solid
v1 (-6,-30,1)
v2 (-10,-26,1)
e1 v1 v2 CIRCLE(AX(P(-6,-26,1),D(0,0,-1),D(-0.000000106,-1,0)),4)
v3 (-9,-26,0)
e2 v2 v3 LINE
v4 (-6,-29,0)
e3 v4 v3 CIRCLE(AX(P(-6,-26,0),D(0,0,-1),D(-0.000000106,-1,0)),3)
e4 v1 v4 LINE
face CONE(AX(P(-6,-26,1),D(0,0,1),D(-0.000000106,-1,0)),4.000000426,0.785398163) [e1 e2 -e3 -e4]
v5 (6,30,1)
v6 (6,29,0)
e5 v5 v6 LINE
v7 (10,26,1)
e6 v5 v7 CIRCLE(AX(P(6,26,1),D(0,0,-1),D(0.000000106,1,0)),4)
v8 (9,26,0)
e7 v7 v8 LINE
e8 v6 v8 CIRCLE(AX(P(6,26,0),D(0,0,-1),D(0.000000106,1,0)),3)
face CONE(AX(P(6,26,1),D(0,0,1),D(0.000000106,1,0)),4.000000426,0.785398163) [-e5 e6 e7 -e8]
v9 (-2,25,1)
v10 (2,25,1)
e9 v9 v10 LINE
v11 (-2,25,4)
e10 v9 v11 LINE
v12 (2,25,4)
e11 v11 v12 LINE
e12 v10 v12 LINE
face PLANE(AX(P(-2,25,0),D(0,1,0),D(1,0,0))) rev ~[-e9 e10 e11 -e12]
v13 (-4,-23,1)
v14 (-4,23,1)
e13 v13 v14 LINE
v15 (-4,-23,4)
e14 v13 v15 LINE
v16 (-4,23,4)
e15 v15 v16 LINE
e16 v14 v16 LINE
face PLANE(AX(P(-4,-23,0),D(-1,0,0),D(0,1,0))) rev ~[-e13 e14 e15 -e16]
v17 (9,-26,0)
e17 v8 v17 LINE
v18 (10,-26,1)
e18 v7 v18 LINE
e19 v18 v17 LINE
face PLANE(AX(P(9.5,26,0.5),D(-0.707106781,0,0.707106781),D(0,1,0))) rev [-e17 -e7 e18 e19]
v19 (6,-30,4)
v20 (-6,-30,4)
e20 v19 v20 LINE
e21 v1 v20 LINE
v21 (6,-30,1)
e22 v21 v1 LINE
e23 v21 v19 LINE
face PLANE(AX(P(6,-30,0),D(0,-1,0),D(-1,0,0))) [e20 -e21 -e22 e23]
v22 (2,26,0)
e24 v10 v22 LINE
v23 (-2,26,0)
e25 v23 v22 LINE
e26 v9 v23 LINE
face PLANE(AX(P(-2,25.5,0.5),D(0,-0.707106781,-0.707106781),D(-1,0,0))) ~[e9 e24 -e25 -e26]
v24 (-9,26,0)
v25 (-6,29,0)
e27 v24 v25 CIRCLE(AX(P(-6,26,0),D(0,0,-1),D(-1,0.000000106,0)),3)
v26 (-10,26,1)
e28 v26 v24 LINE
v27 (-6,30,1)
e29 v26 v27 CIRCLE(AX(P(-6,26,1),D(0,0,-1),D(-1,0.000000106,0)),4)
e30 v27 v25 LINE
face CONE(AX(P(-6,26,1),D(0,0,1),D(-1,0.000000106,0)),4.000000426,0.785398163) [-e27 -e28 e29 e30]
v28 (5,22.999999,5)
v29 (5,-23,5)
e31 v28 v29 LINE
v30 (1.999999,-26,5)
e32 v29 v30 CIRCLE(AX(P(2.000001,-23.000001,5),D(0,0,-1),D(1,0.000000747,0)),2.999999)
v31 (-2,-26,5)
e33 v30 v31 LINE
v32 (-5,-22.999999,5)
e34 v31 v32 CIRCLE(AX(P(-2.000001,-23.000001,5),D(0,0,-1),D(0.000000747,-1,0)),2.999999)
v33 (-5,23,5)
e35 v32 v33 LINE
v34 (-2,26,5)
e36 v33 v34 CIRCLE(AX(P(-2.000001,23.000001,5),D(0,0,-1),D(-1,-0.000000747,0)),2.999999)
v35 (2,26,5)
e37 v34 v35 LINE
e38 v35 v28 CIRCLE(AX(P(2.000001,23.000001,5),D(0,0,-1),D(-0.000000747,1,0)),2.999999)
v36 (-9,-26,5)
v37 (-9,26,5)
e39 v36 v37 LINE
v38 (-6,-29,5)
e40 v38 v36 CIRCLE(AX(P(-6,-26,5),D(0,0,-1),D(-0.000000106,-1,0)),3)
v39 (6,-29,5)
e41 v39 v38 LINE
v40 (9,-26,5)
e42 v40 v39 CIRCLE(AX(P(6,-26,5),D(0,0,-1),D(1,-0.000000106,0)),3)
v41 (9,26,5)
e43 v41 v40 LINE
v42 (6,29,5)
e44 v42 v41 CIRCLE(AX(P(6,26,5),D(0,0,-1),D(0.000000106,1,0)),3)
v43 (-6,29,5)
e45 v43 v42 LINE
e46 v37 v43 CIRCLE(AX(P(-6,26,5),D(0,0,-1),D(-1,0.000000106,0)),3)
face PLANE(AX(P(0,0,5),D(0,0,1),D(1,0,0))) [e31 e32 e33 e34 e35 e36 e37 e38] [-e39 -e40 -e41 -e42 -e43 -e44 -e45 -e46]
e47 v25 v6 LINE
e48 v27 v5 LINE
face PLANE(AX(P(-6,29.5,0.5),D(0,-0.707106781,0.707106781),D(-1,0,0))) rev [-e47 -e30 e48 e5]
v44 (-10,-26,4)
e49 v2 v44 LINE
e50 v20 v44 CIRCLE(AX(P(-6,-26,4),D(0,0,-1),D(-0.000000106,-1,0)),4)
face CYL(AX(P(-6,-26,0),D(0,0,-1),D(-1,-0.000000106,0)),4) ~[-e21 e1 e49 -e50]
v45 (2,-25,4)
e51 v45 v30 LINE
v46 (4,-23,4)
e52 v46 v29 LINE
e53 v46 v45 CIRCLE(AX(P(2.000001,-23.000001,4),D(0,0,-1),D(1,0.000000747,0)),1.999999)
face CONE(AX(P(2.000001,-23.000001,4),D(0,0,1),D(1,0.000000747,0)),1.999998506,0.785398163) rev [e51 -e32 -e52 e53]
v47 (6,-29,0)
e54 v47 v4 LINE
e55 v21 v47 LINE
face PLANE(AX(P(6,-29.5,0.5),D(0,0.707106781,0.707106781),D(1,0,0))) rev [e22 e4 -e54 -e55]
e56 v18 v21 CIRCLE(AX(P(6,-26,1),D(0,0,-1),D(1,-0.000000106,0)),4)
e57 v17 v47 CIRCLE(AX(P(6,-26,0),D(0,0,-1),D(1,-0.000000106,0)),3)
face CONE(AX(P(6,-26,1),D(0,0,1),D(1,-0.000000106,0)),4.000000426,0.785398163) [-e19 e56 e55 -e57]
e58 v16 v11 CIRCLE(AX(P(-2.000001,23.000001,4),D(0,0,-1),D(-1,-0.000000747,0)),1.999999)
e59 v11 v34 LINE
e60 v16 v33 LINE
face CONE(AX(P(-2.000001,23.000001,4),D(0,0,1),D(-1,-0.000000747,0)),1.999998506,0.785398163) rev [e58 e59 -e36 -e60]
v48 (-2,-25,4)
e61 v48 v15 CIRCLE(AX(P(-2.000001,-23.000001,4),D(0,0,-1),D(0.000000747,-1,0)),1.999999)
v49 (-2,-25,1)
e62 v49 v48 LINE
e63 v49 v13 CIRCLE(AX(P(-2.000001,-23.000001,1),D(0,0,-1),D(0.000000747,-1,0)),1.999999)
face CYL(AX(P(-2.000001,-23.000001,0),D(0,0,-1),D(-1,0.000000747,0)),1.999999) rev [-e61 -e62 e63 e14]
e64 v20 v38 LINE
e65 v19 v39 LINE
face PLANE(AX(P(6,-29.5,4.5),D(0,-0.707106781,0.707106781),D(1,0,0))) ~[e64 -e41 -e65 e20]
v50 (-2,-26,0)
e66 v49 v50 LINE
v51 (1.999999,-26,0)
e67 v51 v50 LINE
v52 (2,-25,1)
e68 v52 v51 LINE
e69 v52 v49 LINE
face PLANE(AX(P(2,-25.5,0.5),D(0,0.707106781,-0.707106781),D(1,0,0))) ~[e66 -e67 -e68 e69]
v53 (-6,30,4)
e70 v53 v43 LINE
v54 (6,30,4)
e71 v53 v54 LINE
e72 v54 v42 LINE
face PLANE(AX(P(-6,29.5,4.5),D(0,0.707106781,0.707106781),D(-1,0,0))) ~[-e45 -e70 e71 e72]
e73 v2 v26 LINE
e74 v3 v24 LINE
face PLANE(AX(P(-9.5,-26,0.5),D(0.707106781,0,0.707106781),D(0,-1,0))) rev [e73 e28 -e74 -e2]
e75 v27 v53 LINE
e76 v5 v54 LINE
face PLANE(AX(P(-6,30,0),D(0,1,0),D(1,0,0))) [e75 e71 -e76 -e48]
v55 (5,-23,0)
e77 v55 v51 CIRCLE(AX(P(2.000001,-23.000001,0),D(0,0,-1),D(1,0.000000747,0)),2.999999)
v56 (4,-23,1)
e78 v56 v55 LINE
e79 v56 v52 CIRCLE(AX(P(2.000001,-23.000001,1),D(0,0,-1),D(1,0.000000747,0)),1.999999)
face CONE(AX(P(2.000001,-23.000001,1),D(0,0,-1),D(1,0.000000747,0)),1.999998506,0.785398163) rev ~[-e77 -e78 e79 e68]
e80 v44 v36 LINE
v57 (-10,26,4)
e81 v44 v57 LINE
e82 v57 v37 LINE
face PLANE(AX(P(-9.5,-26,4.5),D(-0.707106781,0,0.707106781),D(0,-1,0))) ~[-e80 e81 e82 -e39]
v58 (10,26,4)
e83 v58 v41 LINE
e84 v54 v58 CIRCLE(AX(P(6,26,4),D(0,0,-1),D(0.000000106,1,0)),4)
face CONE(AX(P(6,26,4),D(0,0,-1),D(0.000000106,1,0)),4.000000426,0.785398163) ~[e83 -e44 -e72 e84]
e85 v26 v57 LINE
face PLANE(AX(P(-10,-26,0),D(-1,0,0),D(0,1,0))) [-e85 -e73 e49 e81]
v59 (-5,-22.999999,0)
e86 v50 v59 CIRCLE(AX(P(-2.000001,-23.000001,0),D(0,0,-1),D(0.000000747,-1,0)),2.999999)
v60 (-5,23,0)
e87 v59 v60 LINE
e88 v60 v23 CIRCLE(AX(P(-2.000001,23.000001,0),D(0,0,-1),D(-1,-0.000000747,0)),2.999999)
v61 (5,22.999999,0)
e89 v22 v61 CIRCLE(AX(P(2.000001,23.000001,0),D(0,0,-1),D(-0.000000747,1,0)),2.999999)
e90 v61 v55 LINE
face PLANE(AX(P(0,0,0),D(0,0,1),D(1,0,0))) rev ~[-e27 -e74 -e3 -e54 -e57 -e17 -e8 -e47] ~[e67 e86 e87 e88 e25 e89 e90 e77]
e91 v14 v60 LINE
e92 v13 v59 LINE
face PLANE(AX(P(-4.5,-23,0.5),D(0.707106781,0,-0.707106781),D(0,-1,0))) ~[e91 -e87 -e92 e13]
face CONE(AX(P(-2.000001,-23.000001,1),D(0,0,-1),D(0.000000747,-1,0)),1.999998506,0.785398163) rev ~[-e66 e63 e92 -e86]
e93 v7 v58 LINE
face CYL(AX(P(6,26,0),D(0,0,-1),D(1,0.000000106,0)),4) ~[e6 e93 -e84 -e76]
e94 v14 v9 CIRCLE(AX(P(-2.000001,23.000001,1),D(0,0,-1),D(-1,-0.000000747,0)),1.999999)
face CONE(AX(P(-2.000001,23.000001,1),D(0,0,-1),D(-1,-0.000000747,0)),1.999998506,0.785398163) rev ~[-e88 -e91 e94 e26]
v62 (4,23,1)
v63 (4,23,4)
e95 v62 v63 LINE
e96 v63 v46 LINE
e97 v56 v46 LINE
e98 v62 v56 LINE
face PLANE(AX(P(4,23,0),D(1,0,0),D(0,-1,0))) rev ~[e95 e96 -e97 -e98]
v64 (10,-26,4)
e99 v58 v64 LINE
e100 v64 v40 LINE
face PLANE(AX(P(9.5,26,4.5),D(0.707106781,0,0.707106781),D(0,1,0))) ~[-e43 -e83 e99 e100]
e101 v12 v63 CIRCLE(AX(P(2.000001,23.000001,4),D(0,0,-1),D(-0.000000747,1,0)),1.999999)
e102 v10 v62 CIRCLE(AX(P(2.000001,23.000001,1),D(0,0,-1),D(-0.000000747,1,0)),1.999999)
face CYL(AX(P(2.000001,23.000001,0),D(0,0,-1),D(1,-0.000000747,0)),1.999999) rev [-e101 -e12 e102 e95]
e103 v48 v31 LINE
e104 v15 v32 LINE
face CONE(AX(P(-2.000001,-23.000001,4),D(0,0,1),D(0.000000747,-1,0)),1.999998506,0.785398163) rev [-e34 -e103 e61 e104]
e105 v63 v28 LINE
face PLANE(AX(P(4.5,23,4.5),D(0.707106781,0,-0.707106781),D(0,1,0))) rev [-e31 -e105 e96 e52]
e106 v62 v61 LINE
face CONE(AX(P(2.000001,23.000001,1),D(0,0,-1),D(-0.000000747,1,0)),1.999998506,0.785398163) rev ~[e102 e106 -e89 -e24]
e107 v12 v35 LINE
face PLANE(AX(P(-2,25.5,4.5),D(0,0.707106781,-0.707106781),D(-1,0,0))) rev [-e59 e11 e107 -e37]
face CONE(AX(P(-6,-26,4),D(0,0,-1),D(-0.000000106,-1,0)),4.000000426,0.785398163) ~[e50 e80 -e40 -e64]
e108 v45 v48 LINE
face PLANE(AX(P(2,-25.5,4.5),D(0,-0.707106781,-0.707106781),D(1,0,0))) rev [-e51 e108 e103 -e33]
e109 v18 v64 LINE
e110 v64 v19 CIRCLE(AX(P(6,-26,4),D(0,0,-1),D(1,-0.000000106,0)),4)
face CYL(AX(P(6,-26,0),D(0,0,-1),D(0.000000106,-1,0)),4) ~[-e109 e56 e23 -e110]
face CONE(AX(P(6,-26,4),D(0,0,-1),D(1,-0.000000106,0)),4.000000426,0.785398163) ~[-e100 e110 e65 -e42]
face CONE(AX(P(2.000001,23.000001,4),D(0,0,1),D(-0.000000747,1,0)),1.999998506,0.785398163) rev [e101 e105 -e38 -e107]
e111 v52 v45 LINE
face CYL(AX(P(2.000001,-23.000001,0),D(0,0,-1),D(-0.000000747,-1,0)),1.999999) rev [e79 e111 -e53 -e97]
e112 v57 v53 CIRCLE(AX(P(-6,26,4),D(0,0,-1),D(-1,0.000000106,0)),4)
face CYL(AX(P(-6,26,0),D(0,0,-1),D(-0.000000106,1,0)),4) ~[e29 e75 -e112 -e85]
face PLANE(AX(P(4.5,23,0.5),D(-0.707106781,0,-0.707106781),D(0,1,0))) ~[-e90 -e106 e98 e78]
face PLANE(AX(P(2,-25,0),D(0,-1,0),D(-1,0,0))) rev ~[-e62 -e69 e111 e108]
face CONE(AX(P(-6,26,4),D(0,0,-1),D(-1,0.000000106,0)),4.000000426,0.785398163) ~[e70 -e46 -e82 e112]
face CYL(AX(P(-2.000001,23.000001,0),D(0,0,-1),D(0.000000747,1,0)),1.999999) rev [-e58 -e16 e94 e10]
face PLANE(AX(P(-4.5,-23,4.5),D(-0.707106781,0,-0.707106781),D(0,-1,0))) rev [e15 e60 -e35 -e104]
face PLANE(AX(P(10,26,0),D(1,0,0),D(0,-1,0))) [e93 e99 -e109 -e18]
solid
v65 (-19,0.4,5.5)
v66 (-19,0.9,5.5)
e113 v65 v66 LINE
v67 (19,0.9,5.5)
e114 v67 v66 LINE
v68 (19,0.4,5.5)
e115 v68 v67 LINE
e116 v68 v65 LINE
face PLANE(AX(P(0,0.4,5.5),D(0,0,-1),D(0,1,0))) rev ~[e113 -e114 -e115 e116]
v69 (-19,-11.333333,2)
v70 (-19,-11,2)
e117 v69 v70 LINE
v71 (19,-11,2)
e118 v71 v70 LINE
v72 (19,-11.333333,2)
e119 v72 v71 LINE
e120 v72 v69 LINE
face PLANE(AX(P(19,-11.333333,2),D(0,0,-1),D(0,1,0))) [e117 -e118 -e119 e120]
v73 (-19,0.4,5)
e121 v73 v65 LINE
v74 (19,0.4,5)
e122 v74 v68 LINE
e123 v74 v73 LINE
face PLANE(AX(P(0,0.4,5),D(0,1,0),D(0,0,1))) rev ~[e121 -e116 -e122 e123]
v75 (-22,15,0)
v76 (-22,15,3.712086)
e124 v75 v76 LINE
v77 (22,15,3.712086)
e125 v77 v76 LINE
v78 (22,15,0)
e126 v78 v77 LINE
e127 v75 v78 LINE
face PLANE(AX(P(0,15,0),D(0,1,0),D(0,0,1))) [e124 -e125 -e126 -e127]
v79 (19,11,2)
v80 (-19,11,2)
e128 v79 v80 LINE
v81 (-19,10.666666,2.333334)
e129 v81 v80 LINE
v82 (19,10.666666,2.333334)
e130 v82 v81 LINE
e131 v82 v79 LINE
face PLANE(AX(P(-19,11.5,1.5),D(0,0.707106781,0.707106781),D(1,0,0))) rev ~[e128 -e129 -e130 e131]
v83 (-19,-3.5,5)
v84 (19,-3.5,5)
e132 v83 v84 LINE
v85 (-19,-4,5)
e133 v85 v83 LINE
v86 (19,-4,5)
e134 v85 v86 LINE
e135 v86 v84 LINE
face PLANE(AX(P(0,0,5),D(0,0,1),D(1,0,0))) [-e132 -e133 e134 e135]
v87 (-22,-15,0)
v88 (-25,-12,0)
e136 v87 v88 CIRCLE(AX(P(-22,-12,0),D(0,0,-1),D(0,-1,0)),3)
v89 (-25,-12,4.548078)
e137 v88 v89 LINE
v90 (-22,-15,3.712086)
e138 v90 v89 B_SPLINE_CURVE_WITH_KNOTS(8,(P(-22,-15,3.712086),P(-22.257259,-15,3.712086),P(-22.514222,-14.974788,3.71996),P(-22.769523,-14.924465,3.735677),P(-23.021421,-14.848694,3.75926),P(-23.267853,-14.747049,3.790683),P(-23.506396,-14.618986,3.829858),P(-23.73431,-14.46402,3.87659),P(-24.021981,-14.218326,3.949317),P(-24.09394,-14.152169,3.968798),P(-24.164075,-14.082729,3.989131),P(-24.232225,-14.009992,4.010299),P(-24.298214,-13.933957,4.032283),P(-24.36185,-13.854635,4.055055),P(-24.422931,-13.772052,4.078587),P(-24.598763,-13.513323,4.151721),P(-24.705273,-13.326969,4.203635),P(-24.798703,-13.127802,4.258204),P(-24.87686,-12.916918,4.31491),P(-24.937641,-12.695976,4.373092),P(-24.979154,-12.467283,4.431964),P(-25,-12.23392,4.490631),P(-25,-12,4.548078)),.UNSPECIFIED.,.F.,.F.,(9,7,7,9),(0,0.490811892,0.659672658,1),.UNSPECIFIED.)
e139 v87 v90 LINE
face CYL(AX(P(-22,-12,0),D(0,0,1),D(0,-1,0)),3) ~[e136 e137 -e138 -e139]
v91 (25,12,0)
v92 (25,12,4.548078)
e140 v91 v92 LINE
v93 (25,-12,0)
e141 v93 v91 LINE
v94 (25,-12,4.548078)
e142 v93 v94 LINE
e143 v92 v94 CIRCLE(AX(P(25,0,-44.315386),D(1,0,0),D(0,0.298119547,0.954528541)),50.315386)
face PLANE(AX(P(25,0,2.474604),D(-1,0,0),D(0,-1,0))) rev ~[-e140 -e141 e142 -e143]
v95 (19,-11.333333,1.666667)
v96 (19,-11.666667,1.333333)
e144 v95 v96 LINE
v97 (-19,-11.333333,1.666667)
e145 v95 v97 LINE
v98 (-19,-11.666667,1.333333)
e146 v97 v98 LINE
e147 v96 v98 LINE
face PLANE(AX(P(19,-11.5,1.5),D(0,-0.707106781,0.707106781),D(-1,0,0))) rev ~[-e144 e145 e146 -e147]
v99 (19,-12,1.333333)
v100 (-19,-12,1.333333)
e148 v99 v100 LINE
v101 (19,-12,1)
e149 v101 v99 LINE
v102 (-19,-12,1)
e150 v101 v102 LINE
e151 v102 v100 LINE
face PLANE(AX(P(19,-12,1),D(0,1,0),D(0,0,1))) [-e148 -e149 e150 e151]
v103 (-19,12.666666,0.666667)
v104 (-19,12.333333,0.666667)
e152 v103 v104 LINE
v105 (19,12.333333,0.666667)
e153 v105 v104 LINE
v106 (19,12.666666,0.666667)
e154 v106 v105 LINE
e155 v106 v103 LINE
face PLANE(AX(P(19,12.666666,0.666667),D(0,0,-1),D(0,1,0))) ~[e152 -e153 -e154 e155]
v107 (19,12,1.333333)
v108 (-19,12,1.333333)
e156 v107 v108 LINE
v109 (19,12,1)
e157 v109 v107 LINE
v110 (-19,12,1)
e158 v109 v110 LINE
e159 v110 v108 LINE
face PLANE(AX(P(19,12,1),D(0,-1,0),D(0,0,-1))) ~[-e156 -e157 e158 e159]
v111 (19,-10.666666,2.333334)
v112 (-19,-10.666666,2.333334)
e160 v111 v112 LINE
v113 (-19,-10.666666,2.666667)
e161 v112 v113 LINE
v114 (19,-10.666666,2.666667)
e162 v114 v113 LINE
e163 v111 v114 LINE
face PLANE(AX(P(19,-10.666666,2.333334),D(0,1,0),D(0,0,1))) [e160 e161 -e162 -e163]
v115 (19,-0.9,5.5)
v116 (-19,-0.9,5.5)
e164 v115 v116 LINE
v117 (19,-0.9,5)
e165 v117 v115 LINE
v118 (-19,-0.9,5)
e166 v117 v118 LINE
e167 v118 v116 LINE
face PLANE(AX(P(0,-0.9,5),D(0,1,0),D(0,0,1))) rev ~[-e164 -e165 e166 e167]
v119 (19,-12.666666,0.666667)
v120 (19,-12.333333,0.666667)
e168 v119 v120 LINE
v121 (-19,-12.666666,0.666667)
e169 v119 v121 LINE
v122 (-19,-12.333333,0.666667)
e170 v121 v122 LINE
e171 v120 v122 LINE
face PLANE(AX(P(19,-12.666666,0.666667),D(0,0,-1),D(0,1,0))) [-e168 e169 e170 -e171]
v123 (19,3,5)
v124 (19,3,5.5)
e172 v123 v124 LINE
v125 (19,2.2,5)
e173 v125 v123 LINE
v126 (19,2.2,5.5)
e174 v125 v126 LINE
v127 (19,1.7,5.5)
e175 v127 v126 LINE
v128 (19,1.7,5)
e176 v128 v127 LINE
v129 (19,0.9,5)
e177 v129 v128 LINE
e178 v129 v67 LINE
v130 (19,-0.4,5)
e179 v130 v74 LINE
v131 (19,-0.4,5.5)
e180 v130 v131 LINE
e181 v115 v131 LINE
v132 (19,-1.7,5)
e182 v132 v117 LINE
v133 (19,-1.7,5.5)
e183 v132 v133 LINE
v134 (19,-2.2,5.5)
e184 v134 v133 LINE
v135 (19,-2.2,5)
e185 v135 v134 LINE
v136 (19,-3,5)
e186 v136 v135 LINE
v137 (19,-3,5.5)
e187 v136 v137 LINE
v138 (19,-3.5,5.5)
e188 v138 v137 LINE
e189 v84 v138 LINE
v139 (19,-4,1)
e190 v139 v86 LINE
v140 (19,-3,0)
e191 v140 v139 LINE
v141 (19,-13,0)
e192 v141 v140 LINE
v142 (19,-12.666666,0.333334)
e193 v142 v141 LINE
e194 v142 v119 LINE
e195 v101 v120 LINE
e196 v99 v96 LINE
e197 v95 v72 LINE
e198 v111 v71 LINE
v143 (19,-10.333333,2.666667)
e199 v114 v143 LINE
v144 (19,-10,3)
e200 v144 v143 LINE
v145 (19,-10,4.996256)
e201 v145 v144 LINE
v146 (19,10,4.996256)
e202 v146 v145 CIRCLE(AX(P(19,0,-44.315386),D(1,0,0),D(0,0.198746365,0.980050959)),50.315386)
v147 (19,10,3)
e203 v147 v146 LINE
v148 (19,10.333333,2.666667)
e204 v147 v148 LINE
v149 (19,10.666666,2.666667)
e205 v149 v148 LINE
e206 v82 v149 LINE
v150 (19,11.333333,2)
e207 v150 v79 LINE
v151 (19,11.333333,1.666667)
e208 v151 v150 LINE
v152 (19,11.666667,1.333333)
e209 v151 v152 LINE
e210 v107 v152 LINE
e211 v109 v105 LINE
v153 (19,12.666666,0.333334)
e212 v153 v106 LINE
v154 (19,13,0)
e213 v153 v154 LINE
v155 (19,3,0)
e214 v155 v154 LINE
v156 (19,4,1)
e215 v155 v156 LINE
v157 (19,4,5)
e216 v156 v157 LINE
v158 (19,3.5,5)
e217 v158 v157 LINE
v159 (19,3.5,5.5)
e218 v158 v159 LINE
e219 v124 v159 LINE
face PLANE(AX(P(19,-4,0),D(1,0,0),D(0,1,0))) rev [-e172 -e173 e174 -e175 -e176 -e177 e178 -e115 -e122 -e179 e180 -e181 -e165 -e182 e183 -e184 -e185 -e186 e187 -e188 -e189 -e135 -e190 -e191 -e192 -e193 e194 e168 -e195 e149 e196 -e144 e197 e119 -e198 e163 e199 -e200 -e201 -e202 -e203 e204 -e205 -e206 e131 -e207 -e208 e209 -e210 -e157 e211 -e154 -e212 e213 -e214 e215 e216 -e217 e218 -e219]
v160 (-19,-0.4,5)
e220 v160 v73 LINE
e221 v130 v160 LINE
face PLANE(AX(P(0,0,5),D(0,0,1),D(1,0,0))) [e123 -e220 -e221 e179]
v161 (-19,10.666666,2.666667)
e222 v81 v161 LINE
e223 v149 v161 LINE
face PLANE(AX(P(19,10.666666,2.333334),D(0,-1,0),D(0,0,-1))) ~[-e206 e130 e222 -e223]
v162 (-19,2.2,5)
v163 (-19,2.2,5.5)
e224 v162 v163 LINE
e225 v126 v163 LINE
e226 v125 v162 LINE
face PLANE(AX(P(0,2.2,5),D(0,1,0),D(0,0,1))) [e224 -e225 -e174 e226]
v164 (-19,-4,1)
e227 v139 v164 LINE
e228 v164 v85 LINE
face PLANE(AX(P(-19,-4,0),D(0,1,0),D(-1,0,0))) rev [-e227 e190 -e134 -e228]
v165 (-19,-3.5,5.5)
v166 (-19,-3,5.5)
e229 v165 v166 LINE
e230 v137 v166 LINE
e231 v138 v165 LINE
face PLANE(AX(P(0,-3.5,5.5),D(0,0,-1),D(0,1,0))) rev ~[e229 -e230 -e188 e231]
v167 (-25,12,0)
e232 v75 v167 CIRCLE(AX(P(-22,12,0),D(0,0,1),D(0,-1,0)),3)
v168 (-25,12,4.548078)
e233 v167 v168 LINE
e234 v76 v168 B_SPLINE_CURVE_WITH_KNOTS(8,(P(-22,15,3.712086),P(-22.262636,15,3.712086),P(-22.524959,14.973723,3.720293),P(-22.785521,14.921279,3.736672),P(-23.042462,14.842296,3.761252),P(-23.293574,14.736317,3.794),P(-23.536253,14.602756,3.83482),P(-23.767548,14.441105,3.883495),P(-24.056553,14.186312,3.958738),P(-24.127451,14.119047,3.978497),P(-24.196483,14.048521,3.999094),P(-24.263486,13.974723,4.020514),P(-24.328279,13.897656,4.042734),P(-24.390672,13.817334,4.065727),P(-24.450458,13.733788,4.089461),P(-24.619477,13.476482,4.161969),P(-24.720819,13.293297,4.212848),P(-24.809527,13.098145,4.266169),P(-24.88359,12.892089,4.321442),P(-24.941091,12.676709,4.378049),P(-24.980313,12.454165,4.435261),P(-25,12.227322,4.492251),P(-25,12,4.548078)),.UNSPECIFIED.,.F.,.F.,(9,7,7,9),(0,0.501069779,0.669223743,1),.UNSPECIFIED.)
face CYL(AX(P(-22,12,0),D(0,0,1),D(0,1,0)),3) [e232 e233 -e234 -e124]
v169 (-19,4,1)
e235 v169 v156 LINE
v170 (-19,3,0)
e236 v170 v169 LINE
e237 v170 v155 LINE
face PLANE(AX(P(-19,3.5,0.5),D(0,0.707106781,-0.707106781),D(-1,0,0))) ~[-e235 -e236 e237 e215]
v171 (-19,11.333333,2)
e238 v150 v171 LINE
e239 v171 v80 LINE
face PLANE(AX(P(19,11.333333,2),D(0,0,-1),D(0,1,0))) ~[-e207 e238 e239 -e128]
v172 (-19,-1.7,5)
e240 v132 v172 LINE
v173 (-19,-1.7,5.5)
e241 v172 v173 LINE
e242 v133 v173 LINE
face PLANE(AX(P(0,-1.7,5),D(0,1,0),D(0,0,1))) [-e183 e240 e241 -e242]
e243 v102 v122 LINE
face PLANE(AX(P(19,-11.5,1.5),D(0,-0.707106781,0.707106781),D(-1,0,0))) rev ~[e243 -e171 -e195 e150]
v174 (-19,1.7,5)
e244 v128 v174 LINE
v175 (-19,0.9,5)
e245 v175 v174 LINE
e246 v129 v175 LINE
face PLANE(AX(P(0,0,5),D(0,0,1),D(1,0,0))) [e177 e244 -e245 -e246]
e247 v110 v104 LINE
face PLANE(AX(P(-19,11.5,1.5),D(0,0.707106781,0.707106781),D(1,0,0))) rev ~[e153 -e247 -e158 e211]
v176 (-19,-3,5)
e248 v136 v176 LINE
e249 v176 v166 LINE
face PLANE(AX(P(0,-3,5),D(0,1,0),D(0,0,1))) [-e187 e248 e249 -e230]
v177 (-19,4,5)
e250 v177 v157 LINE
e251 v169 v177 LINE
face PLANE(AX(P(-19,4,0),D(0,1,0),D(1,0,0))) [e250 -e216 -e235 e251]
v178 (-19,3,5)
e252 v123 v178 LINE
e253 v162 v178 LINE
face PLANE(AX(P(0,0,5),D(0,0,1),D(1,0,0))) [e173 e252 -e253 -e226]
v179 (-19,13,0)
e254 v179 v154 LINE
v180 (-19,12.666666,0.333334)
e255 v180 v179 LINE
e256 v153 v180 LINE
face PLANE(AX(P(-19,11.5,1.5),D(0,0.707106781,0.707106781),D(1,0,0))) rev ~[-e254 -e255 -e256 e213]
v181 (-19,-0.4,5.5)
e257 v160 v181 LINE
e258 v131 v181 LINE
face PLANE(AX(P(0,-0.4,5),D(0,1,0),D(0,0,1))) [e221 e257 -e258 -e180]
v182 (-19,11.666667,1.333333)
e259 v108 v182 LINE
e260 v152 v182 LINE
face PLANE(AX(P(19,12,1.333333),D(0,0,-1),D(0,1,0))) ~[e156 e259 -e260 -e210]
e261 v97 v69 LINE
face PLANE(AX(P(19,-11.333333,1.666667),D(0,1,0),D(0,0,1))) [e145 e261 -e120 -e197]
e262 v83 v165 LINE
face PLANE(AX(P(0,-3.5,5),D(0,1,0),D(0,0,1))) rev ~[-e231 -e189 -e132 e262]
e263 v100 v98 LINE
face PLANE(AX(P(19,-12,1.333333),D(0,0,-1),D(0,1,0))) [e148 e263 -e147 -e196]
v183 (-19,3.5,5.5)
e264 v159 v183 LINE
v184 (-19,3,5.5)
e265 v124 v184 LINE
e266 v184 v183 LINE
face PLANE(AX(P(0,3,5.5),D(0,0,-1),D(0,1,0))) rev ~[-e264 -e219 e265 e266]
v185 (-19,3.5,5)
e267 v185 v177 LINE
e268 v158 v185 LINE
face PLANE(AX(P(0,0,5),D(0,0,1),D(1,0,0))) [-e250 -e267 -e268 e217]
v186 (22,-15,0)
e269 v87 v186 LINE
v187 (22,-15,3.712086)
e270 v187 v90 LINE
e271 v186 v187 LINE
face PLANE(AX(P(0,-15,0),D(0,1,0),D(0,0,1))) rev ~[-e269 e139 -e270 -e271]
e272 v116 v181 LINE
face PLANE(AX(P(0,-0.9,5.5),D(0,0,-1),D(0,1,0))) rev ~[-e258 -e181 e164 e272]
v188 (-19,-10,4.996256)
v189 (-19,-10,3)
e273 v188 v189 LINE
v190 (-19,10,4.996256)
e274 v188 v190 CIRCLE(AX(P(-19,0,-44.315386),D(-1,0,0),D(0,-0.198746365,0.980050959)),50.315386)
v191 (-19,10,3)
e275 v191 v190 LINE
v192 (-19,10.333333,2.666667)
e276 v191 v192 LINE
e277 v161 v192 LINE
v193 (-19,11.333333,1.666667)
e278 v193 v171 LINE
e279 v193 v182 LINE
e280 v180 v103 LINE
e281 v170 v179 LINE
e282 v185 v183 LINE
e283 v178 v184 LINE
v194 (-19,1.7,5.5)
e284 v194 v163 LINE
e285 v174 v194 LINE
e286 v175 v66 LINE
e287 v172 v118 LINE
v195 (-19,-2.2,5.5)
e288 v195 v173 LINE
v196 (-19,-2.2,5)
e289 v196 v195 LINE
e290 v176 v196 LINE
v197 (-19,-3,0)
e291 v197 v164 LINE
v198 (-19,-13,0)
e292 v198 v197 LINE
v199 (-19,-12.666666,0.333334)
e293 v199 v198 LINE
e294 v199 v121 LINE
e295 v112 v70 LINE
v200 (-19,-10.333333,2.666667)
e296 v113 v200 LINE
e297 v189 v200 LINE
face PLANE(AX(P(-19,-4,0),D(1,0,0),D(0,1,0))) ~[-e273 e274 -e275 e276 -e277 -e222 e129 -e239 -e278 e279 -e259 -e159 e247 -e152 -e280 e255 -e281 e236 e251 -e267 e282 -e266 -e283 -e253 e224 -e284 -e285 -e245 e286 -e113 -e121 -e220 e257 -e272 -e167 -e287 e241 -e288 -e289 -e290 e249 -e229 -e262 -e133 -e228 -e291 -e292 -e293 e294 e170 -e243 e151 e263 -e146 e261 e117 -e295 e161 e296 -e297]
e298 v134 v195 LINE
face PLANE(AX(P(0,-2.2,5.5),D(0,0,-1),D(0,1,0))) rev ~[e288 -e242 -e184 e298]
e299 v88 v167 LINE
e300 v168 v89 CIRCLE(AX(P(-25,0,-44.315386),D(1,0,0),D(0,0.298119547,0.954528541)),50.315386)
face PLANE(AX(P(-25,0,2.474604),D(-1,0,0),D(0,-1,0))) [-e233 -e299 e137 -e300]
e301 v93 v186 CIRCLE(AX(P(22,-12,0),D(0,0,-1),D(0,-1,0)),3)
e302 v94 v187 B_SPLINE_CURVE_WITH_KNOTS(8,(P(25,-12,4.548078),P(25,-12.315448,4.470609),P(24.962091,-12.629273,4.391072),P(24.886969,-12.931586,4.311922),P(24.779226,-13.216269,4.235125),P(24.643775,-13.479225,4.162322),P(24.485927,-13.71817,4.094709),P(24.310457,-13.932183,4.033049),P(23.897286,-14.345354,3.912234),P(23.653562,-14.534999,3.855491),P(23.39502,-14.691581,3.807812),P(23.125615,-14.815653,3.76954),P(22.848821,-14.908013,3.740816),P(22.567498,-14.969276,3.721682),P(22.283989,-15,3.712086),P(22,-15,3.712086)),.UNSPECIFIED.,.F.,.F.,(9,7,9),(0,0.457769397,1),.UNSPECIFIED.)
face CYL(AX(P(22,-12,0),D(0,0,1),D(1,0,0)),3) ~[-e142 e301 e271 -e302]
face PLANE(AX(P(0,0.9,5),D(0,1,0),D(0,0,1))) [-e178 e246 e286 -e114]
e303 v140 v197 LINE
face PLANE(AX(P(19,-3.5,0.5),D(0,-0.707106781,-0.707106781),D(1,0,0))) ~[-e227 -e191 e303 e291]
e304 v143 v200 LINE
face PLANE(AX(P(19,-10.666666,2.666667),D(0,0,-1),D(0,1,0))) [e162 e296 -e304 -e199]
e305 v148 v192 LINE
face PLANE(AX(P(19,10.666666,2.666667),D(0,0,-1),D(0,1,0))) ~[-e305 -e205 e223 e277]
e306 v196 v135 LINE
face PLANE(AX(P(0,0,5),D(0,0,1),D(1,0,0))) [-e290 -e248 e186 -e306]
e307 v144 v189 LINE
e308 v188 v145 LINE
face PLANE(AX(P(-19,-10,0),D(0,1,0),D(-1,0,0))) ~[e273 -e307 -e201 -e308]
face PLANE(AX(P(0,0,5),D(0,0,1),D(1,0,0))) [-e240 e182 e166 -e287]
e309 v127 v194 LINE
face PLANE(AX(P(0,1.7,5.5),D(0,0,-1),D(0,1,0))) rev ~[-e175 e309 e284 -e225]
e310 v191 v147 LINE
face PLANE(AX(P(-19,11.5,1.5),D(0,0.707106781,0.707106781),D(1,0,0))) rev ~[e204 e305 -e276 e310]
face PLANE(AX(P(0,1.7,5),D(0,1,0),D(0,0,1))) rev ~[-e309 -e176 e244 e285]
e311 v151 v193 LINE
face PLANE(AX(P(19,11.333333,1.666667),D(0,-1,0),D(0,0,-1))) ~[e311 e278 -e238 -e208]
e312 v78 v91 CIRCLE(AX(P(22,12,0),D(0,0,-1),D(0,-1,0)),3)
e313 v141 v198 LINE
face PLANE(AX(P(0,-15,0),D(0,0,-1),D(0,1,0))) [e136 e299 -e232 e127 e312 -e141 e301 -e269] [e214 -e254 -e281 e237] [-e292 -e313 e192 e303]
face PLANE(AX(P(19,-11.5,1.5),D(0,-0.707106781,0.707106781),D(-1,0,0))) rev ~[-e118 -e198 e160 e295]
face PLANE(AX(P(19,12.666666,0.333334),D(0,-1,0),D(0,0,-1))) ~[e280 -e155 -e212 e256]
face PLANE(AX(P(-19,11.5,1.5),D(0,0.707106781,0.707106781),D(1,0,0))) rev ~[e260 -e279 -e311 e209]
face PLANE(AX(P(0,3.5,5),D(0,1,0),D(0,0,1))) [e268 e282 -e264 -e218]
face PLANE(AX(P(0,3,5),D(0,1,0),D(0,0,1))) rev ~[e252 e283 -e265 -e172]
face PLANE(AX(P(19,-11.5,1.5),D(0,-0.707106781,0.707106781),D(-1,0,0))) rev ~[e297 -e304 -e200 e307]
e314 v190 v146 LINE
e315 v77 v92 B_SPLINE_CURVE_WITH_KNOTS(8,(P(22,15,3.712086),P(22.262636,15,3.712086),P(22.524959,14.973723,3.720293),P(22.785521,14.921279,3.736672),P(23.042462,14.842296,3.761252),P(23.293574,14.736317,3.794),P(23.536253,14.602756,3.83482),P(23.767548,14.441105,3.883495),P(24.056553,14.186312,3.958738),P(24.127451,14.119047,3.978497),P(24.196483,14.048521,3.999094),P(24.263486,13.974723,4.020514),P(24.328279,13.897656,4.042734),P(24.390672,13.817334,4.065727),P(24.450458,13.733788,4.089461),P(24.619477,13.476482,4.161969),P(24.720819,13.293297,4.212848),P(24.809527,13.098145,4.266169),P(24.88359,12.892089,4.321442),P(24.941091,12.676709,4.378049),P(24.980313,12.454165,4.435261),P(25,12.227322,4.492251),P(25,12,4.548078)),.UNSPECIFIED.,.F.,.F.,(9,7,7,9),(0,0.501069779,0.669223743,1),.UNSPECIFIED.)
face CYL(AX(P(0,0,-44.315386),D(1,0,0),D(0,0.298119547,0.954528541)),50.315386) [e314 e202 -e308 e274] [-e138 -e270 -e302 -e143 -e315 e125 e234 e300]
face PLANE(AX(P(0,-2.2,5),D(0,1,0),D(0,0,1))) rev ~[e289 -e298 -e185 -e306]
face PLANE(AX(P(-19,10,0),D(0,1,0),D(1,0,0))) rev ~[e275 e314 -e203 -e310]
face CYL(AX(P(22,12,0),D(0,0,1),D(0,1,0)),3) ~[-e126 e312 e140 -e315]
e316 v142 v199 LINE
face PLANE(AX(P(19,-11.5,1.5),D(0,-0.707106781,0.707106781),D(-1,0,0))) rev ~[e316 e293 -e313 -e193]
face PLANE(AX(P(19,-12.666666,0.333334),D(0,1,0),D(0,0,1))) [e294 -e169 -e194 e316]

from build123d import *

# Parameters (mm, degrees)
PAD_DEPTH           = 25
SKETCH001_W         = 38
SKETCH001_H         = 6
POCKET_DEPTH        = 117.235807
POCKET_DEPTH_BACK   = 123.235807
SKETCH002_W         = 38
SKETCH002_H         = 8
POCKET001_DEPTH     = 1
SKETCH003_W         = 0.5
SKETCH003_H         = 0.5
PAD001_DEPTH        = 19
PAD002_DEPTH        = 19
LINEARPATTERN_COUNT = 6
LINEARPATTERN_PITCH = 1.3
FILLET_R            = 3
CHAMFER_SIZE        = 3
POCKET002_DEPTH     = 38
CHAMFER001_SIZE     = 1
PAD003_DEPTH        = 5
CHAMFER002_SIZE     = 1


with BuildPart() as body:
    # Sketch → Pad (new body, symmetric)
    with BuildSketch(Plane.YZ):
        with BuildLine():
            Line((-15, 0), (-15, 3.712086))
            ThreePointArc((15, 3.712086), (0, 6), (-15, 3.712086))
            Line((15, 0), (15, 3.712086))
            Line((-15, 0), (15, 0))
        make_face()
    extrude(amount=PAD_DEPTH, both=True)

    # Sketch001 → Pocket (cut, two sides)
    with BuildSketch(Plane.XY) as pocket_sk:
        with Locations((0, 7)):
            Rectangle(SKETCH001_W, SKETCH001_H)
    pocket = extrude(amount=-POCKET_DEPTH, mode=Mode.SUBTRACT) + extrude(pocket_sk.sketch, amount=POCKET_DEPTH_BACK, mode=Mode.SUBTRACT)

    # Mirrored: Pocket across Sketch001 H_Axis
    add(pocket.mirror(Plane.ZX), mode=Mode.SUBTRACT)

    # Sketch002 → Pocket001 (cut)
    with BuildSketch(Plane.XY.offset(6)):
        Rectangle(SKETCH002_W, SKETCH002_H)
    extrude(amount=-POCKET001_DEPTH, mode=Mode.SUBTRACT)

    # Sketch003 → Pad001 (join)
    with BuildSketch(Plane.YZ):
        with Locations((-3.25, 5.25)):
            Rectangle(SKETCH003_W, SKETCH003_H)
    pad001 = extrude(amount=PAD001_DEPTH)

    # Sketch003 → Pad002 (join)
    with BuildSketch(Plane.YZ):
        with Locations((-3.25, 5.25)):
            Rectangle(SKETCH003_W, SKETCH003_H)
    pad002 = extrude(amount=-PAD002_DEPTH)

    # LinearPattern: Pad001, Pad002 ×6
    with Locations(*[(0, i * LINEARPATTERN_PITCH, 0) for i in range(1, LINEARPATTERN_COUNT)]):
        add(pad001)
        add(pad002)

    # Fillet
    fillet_edges = [body.edges().sort_by_distance(p)[0] for p in [
        (25, 15, 1.856043),
        (25, -15, 1.856043),
        (-25, 15, 1.856043),
        (-25, -15, 1.856043),
    ]]
    fillet(fillet_edges, radius=FILLET_R)

    # Chamfer
    chamfer_edges = [body.edges().sort_by_distance(p)[0] for p in [
        (0, -10, 0),
        (0, 10, 0),
    ]]
    chamfer(chamfer_edges, length=CHAMFER_SIZE)

    # Sketch004 (on Edge57 of Chamfer) → Pocket002 (cut)
    with BuildSketch(Plane(origin=(19, -13, 0), x_dir=(0, -0.707107, -0.707107), z_dir=(-1, 0, 0))):
        Polygon((-0.471405, 0), (-0.707107, 0.235702), (-0.942809, 0), align=None)
        Polygon((-1.414214, 0), (-1.649916, 0.235702), (-1.885618, 0), align=None)
        Polygon((-2.357023, 0), (-2.592725, 0.235702), (-2.828427, 0), align=None)
        Polygon((-3.299832, 0), (-3.535534, 0.235702), (-3.771236, 0), align=None)
    pocket002 = extrude(amount=POCKET002_DEPTH, mode=Mode.SUBTRACT)

    # Mirrored001: Pocket002 across XZ
    add(pocket002.mirror(Plane.XZ), mode=Mode.SUBTRACT)

    # Chamfer001
    chamfer001_edges = [body.edges().sort_by_distance(p)[0] for p in [
        (0, -4, 0),
        (0, 4, 0),
    ]]
    chamfer(chamfer001_edges, length=CHAMFER001_SIZE)


with BuildPart() as body001:
    # Sketch005 → Pad003 (new body)
    with BuildSketch(Plane.XY):
        with BuildLine():
            ThreePointArc((-6, 30), (-8.828427, 28.828427), (-10, 26))
            Line((-10, -26), (-10, 26))
            ThreePointArc((-10, -26), (-8.828427, -28.828427), (-6, -30))
            Line((6, -30), (-6, -30))
            ThreePointArc((6, -30), (8.828427, -28.828427), (10, -26))
            Line((10, 26), (10, -26))
            ThreePointArc((10, 26), (8.828427, 28.828427), (6, 30))
            Line((-6, 30), (6, 30))
        make_face()
        with BuildLine():
            ThreePointArc((-2, 25), (-3.414214, 24.414214), (-4, 23))
            Line((-4, -23), (-4, 23))
            ThreePointArc((-4, -23), (-3.414214, -24.414214), (-2, -25))
            Line((2, -25), (-2, -25))
            ThreePointArc((2, -25), (3.414214, -24.414214), (4, -23))
            Line((4, 23), (4, -23))
            ThreePointArc((4, 23), (3.414214, 24.414214), (2, 25))
            Line((-2, 25), (2, 25))
        make_face(mode=Mode.SUBTRACT)
    extrude(amount=PAD003_DEPTH)

    # Chamfer002
    chamfer002_edges = [body001.edges().sort_by_distance(p)[0] for p in [
        (0, -30, 0),
        (0, -30, 5),
        (0, 25, 5),
        (0, 25, 0),
    ]]
    chamfer(chamfer002_edges, length=CHAMFER002_SIZE)


solid = Compound([body.part, body001.part])
